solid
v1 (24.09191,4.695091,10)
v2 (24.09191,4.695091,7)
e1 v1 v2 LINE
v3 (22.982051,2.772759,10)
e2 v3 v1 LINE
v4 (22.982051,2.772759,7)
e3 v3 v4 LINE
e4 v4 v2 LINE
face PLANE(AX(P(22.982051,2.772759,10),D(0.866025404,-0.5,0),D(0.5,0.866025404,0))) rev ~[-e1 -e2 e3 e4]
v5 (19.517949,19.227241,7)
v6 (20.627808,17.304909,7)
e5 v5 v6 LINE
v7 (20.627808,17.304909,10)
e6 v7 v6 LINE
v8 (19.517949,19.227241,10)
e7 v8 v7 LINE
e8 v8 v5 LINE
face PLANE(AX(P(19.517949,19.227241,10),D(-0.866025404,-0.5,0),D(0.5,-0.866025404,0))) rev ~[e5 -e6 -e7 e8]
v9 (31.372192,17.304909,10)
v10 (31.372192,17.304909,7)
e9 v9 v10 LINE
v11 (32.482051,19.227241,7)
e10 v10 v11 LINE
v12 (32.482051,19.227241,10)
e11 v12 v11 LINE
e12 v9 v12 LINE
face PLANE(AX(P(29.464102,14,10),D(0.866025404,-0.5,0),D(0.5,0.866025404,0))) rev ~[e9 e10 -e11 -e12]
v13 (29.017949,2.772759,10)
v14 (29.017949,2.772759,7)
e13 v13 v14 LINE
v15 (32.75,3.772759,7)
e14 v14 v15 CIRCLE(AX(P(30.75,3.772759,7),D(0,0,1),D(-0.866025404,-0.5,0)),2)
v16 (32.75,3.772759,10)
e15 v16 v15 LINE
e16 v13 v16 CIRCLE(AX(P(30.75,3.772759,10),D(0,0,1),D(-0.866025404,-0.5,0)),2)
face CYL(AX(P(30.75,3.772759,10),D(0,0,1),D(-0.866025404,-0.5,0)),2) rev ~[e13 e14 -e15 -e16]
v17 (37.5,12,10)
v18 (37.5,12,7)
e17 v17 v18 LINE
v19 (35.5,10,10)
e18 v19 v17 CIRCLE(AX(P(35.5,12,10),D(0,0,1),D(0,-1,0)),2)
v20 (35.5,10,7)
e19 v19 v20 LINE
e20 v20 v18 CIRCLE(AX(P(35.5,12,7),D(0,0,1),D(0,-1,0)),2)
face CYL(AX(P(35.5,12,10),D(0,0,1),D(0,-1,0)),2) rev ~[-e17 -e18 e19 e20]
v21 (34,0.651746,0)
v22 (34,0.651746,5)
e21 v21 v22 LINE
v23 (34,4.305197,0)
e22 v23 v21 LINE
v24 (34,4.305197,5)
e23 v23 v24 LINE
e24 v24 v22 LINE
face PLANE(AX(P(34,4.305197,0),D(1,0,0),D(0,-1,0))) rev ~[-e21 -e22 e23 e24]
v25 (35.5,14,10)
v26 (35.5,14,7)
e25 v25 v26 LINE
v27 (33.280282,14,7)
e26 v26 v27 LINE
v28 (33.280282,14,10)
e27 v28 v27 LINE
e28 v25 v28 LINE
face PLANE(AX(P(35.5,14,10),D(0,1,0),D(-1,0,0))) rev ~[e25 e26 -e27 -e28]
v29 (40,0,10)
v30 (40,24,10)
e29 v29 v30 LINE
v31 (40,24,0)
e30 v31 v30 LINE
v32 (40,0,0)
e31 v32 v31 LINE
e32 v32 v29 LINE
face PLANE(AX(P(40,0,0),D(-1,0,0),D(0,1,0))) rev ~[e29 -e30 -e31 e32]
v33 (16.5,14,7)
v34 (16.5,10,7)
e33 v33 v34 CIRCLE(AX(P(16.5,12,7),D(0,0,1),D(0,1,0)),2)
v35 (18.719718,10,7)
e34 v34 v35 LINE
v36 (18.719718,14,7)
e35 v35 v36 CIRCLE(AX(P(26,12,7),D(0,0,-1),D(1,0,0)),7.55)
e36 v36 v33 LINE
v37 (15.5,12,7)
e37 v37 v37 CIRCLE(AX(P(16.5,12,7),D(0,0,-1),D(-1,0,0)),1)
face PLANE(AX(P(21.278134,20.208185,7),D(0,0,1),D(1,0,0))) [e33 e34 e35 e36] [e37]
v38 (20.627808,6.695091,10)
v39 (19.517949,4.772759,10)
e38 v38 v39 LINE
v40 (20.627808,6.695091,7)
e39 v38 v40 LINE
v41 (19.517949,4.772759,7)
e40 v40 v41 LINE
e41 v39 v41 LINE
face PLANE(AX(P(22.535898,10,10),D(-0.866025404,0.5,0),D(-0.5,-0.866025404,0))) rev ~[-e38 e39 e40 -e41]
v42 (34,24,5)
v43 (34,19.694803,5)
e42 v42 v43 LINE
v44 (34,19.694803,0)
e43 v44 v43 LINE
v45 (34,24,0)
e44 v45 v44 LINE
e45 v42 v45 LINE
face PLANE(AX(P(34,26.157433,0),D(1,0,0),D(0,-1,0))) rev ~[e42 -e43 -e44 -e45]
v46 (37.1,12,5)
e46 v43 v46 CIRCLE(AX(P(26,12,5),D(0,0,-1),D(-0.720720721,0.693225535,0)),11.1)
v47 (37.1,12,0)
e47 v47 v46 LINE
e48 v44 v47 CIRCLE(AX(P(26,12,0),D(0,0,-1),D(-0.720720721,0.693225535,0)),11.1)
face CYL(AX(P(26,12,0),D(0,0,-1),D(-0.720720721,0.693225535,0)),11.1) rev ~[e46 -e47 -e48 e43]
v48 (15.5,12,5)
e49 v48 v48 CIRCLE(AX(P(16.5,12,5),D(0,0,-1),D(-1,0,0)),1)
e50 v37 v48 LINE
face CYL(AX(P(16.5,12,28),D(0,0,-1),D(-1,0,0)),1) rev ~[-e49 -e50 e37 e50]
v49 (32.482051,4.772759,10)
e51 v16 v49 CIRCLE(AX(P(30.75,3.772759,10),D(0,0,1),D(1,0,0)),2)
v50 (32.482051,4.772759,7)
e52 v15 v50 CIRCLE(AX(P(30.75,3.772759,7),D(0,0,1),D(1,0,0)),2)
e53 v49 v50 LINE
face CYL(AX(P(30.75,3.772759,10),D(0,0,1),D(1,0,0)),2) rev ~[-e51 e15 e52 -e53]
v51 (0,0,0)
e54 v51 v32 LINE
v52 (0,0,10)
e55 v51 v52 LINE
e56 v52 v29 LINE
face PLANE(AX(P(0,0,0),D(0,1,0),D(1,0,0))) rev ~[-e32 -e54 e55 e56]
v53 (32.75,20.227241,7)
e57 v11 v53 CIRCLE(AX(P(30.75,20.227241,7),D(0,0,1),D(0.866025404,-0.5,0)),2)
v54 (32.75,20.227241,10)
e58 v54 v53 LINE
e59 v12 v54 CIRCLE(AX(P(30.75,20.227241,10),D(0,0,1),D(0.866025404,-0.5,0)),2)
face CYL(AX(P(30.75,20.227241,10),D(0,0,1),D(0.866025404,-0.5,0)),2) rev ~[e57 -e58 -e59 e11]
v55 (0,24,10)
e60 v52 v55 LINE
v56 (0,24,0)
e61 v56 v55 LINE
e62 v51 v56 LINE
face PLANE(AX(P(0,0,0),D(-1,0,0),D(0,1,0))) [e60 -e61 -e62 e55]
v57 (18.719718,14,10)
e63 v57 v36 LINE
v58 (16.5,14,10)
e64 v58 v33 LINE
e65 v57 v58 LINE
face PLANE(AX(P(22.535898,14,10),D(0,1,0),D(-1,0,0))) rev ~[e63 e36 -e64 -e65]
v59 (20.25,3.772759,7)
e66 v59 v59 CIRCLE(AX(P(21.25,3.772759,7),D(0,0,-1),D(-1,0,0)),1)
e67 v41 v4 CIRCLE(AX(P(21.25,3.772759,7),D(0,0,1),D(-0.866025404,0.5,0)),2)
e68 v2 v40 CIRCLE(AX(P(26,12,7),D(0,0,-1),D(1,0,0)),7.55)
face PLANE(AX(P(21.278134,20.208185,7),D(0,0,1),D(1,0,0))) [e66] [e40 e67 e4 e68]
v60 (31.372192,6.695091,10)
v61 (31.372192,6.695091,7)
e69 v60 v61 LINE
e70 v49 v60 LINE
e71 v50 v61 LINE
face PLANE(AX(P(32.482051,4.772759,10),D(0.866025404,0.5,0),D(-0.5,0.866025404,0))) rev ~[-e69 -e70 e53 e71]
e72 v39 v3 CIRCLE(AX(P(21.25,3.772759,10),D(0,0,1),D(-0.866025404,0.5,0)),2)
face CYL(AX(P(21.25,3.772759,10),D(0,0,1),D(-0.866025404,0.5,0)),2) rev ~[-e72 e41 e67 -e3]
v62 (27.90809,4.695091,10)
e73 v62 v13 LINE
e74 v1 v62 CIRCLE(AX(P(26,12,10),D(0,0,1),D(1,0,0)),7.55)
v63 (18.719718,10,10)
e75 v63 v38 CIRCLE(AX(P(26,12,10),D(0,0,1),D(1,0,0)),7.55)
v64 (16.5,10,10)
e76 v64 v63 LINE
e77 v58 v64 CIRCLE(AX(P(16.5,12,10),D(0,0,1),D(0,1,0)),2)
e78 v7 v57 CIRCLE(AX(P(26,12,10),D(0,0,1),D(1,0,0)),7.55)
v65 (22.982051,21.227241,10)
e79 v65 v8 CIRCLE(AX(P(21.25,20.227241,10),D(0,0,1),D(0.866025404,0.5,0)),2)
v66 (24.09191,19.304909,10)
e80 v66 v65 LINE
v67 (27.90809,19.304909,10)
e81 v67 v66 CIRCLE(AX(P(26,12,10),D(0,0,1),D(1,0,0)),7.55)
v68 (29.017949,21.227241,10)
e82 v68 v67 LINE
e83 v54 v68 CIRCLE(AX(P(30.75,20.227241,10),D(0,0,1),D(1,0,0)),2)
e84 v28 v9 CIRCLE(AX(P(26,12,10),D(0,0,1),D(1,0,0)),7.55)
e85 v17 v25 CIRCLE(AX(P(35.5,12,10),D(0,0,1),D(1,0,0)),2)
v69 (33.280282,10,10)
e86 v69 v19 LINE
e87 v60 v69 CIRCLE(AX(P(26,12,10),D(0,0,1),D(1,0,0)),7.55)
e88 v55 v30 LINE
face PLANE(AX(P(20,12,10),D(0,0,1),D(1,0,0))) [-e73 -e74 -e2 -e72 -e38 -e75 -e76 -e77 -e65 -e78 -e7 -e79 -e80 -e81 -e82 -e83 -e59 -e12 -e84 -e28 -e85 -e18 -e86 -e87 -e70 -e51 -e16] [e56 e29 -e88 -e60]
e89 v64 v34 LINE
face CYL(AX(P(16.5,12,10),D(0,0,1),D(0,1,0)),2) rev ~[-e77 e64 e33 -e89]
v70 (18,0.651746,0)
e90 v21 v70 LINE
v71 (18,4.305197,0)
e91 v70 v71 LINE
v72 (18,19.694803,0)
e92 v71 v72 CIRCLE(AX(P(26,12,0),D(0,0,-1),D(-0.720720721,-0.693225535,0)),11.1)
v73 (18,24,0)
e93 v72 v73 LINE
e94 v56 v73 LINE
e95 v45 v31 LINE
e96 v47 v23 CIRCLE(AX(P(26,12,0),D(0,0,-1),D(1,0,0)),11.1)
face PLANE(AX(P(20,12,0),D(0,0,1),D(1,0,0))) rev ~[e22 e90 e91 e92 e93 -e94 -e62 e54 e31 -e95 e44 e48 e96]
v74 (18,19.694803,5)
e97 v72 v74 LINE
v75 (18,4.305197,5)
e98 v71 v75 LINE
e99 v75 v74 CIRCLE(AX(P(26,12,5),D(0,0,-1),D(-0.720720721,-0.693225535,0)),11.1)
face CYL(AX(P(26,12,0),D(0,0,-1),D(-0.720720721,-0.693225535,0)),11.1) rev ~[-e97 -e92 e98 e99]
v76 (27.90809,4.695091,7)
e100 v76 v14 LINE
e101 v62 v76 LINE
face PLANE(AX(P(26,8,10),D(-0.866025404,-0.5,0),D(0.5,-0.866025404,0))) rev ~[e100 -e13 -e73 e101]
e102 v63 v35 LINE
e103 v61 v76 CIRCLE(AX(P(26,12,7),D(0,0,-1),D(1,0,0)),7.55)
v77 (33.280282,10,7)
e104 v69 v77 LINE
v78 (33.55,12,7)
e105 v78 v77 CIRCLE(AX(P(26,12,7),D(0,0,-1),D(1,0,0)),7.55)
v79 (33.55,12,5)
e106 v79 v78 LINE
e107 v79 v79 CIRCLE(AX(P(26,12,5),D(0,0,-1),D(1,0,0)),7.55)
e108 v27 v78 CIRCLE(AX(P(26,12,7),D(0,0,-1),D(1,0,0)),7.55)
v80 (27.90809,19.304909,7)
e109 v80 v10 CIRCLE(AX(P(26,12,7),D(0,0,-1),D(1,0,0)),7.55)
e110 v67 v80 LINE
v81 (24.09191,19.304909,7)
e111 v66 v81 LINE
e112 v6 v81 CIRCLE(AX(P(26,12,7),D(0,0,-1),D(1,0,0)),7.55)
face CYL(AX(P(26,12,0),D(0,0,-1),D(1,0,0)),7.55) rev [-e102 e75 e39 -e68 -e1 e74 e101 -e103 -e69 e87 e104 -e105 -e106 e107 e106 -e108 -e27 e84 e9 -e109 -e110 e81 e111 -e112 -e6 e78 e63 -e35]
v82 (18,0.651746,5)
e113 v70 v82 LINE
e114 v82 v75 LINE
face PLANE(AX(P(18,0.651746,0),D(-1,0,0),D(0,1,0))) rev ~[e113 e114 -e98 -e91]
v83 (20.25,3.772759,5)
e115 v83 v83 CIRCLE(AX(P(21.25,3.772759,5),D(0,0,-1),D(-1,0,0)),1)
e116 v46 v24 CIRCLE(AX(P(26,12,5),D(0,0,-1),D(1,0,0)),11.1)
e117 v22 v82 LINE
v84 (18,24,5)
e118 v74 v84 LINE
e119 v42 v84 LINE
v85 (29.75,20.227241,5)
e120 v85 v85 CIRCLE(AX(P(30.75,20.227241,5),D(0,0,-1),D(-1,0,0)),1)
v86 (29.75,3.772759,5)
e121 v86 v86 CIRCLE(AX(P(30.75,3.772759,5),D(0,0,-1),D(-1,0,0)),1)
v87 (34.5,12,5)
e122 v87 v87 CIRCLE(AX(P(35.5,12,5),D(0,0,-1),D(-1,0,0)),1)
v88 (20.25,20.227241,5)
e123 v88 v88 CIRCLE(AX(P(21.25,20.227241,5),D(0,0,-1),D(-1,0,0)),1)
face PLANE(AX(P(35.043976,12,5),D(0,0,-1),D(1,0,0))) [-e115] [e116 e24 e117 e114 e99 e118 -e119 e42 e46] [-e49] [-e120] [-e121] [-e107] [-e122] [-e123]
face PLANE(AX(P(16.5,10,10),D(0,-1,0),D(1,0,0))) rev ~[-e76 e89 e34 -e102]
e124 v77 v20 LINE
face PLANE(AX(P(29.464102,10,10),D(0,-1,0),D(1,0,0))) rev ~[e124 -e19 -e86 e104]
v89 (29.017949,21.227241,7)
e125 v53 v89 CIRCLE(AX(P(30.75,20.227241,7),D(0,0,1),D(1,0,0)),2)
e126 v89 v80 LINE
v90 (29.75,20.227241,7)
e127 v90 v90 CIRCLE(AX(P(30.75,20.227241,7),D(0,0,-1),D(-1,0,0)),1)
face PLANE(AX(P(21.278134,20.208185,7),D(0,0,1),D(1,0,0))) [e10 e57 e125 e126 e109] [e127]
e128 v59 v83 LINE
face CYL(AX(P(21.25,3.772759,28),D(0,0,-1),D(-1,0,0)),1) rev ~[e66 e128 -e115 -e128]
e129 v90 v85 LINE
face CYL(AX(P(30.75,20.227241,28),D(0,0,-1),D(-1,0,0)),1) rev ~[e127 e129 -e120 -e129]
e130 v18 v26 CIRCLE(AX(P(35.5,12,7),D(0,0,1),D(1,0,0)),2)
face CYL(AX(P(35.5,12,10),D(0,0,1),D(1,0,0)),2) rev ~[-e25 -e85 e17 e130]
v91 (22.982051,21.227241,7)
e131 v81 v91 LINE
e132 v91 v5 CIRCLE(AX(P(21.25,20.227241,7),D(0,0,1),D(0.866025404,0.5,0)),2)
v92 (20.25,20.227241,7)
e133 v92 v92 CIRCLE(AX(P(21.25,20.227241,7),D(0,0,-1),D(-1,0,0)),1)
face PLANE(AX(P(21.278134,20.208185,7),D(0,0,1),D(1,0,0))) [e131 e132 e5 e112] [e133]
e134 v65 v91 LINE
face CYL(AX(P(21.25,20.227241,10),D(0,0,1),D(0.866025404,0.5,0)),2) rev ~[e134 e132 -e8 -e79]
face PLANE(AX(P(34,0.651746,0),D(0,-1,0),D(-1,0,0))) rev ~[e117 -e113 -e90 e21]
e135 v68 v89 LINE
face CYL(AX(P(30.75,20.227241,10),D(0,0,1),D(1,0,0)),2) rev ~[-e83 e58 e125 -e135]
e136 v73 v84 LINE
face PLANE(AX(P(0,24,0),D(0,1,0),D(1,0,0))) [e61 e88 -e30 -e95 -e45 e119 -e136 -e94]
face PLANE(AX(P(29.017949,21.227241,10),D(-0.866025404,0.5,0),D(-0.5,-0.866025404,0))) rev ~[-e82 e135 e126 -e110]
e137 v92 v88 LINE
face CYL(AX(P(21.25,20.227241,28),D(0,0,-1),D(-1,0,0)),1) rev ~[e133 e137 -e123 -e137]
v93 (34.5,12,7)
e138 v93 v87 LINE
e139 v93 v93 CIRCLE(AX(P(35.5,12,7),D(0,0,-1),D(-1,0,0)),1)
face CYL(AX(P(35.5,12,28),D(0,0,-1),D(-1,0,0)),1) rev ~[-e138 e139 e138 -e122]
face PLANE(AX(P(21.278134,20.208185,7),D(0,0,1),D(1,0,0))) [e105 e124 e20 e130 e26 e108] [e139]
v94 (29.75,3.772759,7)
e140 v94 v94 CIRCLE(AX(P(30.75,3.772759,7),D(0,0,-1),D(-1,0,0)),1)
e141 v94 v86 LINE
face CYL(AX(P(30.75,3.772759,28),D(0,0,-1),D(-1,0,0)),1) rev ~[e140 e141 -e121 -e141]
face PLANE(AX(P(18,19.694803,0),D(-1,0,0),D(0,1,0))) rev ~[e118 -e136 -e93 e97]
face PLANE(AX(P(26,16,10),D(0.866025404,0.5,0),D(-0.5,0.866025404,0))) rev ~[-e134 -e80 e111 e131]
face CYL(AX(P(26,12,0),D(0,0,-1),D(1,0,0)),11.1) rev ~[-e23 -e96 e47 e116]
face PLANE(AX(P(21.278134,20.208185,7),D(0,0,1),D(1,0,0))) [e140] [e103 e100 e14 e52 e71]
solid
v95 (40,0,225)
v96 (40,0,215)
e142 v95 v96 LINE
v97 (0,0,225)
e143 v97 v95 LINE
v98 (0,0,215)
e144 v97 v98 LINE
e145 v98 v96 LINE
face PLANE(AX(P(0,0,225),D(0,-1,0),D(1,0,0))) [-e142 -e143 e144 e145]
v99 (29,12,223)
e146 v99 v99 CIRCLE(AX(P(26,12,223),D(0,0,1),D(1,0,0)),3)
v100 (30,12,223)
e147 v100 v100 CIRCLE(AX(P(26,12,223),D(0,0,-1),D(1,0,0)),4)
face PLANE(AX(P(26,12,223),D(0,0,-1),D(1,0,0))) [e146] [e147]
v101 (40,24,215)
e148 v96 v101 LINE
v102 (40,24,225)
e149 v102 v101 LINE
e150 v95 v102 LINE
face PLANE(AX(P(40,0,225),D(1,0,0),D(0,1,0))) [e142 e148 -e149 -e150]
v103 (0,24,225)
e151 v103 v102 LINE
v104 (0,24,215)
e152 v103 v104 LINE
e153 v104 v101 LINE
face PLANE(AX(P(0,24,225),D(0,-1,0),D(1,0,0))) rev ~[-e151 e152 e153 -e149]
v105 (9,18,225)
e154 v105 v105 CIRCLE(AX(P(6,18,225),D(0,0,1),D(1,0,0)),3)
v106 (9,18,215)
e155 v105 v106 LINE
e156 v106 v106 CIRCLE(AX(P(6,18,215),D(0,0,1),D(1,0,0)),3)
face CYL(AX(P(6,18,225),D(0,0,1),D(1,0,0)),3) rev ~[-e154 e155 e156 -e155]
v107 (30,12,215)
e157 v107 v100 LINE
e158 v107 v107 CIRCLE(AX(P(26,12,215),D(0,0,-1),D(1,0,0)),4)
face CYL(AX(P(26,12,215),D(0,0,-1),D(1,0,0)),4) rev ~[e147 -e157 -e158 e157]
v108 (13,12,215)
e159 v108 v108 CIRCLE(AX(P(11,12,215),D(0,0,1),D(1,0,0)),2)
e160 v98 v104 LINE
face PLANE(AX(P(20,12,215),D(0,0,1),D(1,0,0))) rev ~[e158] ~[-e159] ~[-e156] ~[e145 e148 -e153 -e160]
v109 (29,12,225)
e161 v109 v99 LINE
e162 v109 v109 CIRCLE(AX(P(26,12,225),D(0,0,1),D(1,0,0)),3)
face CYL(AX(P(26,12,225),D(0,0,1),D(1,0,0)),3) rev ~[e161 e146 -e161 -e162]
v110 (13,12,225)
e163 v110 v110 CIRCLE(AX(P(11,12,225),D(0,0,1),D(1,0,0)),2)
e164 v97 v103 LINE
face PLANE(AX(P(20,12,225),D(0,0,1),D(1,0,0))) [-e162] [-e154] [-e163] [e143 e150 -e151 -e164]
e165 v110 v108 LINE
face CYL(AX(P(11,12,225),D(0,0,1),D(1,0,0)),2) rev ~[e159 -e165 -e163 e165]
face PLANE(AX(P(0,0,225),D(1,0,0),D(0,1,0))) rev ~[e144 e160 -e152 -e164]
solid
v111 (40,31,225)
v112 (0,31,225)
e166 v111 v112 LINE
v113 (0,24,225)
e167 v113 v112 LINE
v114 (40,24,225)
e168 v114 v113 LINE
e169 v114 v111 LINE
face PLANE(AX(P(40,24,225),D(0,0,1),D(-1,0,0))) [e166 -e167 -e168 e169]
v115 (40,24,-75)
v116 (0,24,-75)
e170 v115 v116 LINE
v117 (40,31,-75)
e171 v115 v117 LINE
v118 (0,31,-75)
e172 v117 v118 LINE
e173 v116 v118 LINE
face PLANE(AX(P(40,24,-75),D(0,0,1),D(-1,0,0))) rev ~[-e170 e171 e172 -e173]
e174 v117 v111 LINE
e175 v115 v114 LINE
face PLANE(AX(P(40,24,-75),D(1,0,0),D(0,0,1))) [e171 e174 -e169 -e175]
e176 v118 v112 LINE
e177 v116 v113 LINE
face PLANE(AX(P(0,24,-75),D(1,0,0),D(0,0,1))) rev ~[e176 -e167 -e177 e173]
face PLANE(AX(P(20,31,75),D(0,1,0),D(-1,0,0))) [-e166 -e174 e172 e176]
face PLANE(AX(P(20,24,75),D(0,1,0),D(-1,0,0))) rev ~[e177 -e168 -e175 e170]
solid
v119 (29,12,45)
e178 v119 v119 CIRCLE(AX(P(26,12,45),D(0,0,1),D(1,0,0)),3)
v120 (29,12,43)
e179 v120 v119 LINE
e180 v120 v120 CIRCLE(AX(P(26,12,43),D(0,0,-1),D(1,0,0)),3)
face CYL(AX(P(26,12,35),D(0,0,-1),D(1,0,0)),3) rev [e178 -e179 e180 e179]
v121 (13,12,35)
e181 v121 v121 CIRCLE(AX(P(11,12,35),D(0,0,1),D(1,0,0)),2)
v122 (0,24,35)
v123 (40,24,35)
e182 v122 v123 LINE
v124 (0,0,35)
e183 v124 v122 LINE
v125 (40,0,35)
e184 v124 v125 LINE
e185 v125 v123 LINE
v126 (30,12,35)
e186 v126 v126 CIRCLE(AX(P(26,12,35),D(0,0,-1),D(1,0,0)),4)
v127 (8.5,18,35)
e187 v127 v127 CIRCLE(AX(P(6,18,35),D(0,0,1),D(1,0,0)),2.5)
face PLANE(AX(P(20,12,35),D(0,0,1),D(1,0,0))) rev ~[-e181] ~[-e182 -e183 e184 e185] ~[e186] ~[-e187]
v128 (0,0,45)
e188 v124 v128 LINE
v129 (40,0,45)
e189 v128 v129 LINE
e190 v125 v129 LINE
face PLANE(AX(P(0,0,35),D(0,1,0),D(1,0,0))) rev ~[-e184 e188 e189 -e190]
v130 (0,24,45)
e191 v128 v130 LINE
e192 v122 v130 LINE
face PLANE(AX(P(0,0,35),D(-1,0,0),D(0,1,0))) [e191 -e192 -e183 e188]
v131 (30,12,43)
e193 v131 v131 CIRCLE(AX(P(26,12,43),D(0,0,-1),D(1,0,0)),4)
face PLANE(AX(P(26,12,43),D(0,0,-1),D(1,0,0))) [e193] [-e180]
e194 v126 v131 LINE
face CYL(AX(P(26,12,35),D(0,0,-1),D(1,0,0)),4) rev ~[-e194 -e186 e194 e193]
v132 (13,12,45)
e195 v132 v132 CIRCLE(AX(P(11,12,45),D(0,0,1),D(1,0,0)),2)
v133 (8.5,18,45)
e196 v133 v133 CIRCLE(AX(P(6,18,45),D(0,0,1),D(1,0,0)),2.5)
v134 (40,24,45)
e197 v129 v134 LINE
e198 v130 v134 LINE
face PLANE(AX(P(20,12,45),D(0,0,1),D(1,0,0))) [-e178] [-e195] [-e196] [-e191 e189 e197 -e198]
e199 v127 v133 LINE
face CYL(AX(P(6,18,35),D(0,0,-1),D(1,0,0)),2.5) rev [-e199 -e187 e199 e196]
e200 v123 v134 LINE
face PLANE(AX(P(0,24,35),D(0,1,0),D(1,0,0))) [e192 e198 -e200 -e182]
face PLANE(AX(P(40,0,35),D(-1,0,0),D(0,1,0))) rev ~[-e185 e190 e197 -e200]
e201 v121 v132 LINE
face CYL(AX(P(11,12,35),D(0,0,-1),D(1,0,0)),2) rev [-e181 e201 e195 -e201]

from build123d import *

# Parameters (mm, degrees)
F0_W      = 40
F0_H      = 24
F0_R      = 7.55
F1_DEPTH  = 10
F3_D      = 2
F3_DEPTH  = 18
F3_TIP    = 0.600860619
F5_DEPTH  = 3
F7_DEPTH  = 5
F8_W      = 40
F8_H      = 300
F9_DEPTH  = 7
F10_W     = 40
F10_H     = 24
F10_R     = 2
F10_R_2   = 3
F11_DEPTH = 10
F12_R     = 4
F13_DEPTH = 8
F15_W     = 40
F15_H     = 24
F15_R     = 2
F15_R_2   = 2.5
F15_R_3   = 3
F16_DEPTH = 10
F17_R     = 4
F18_DEPTH = 8


with BuildPart() as f1:
    # F0 (on Top) → F1 (new body)
    with BuildSketch(Plane.XY):
        with Locations((20, 12)):
            Rectangle(F0_W, F0_H)
        with Locations((26, 12)):
            Circle(F0_R, mode=Mode.SUBTRACT)
    extrude(amount=F1_DEPTH)

    # F3
    with Locations(Plane.XY.offset(10)):
        with Locations((21.25, 20.227241336), (16.5, 12), (21.25, 3.772758664), (30.75, 3.772758664), (35.5, 12), (30.75, 20.227241336)):
            Hole(F3_D / 2, depth=F3_DEPTH)
            with Locations((0, 0, -(F3_DEPTH + F3_TIP / 2))):  # 118° drill point
                Cone(0, F3_D / 2, F3_TIP, mode=Mode.SUBTRACT)

    # F4 (on face) → F5 (cut)
    with BuildSketch(Plane.XY.offset(10)):
        with BuildLine():
            ThreePointArc((19.5179491924, 19.227241336), (21.7676380902, 18.2953896834), (23.25, 20.227241336))
            ThreePointArc((23.25, 20.227241336), (23.1818516526, 20.7448794262), (22.9820508076, 21.227241336))
            ThreePointArc((22.9820508076, 21.227241336), (20.25, 21.9592921435), (19.5179491924, 19.227241336))
        make_face()
        with BuildLine():
            ThreePointArc((22.9820508076, 21.227241336), (23.1818516526, 20.7448794262), (23.25, 20.227241336))
            ThreePointArc((23.25, 20.227241336), (21.7676380902, 18.2953896834), (19.5179491924, 19.227241336))
            Line((19.5179491924, 19.227241336), (22.5358983849, 14))
            Line((22.5358983849, 14), (24.8452994616, 14))
            Line((24.8452994616, 14), (26, 16))
            Line((26, 16), (22.9820508076, 21.227241336))
        make_face()
        with BuildLine():
            Line((29.0179491924, 21.227241336), (26, 16))
            Line((26, 16), (27.1547005384, 14))
            Line((27.1547005384, 14), (29.4641016151, 14))
            Line((29.4641016151, 14), (32.4820508076, 19.227241336))
            ThreePointArc((32.4820508076, 19.227241336), (29.75, 18.4951905284), (29.0179491924, 21.227241336))
        make_face()
        Polygon((27.1547005384, 14), (26, 16), (24.8452994616, 14), align=None)
        Polygon((24.8452994616, 14), (22.5358983849, 14), (23.6905989232, 12), align=None)
        with BuildLine():
            Line((23.6905989232, 12), (22.5358983849, 14))
            Line((22.5358983849, 14), (16.5, 14))
            ThreePointArc((16.5, 14), (17.9142135624, 13.4142135624), (18.5, 12))
            ThreePointArc((18.5, 12), (17.9142135624, 10.5857864376), (16.5, 10))
            Line((16.5, 10), (22.5358983849, 10))
            Line((22.5358983849, 10), (23.6905989232, 12))
        make_face()
        Polygon((29.4641016151, 14), (27.1547005384, 14), (28.3094010768, 12), align=None)
        with BuildLine():
            ThreePointArc((32.75, 20.227241336), (31.2676380902, 22.1590929885), (29.0179491924, 21.227241336))
            ThreePointArc((29.0179491924, 21.227241336), (29.75, 18.4951905284), (32.4820508076, 19.227241336))
            ThreePointArc((32.4820508076, 19.227241336), (32.6818516526, 19.7096032457), (32.75, 20.227241336))
        make_face()
        Polygon((24.8452994616, 10), (23.6905989232, 12), (22.5358983849, 10), align=None)
        with BuildLine():
            ThreePointArc((18.5, 12), (17.9142135624, 13.4142135624), (16.5, 14))
            ThreePointArc((16.5, 14), (14.5, 12), (16.5, 10))
            ThreePointArc((16.5, 10), (17.9142135624, 10.5857864376), (18.5, 12))
        make_face()
        with BuildLine():
            Line((29.4641016151, 14), (28.3094010768, 12))
            Line((28.3094010768, 12), (29.4641016151, 10))
            Line((29.4641016151, 10), (35.5, 10))
            ThreePointArc((35.5, 10), (33.5, 12), (35.5, 14))
            Line((35.5, 14), (29.4641016151, 14))
        make_face()
        Polygon((29.4641016151, 10), (28.3094010768, 12), (27.1547005384, 10), align=None)
        Polygon((27.1547005384, 10), (24.8452994616, 10), (26, 8), align=None)
        with BuildLine():
            Line((26, 8), (24.8452994616, 10))
            Line((24.8452994616, 10), (22.5358983849, 10))
            Line((22.5358983849, 10), (19.5179491924, 4.772758664))
            ThreePointArc((19.5179491924, 4.772758664), (21.7676380902, 5.7046103166), (23.25, 3.772758664))
            ThreePointArc((23.25, 3.772758664), (23.1818516526, 3.2551205738), (22.9820508076, 2.772758664))
            Line((22.9820508076, 2.772758664), (26, 8))
        make_face()
        with BuildLine():
            Line((32.4820508076, 4.772758664), (29.4641016151, 10))
            Line((29.4641016151, 10), (27.1547005384, 10))
            Line((27.1547005384, 10), (26, 8))
            Line((26, 8), (29.0179491924, 2.772758664))
            ThreePointArc((29.0179491924, 2.772758664), (29.75, 5.5048094716), (32.4820508076, 4.772758664))
        make_face()
        with BuildLine():
            ThreePointArc((37.5, 12), (36.9142135624, 13.4142135624), (35.5, 14))
            ThreePointArc((35.5, 14), (33.5, 12), (35.5, 10))
            ThreePointArc((35.5, 10), (36.9142135624, 10.5857864376), (37.5, 12))
        make_face()
        with BuildLine():
            ThreePointArc((23.25, 3.772758664), (21.7676380902, 5.7046103166), (19.5179491924, 4.772758664))
            ThreePointArc((19.5179491924, 4.772758664), (20.25, 2.0407078565), (22.9820508076, 2.772758664))
            ThreePointArc((22.9820508076, 2.772758664), (23.1818516526, 3.2551205738), (23.25, 3.772758664))
        make_face()
        with BuildLine():
            ThreePointArc((32.75, 3.772758664), (32.6818516526, 4.2903967543), (32.4820508076, 4.772758664))
            ThreePointArc((32.4820508076, 4.772758664), (29.75, 5.5048094716), (29.0179491924, 2.772758664))
            ThreePointArc((29.0179491924, 2.772758664), (31.2676380902, 1.8409070115), (32.75, 3.772758664))
        make_face()
    extrude(amount=-F5_DEPTH, mode=Mode.SUBTRACT)

    # F6 (on face) → F7 (cut)
    with BuildSketch(Plane(origin=(0, 0, 0), x_dir=(1, 0, 0), z_dir=(0, 0, -1))):
        with BuildLine():
            ThreePointArc((34, -19.6948034413), (36.2958729596, -16.1478910304), (37.1, -12))
            ThreePointArc((37.1, -12), (36.2958729596, -7.8521089696), (34, -4.3051965587))
            Line((34, -4.3051965587), (34, -19.6948034413))
        make_face()
        with BuildLine():
            Line((34, -19.6948034413), (34, -4.3051965587))
            ThreePointArc((34, -4.3051965587), (26, -0.9), (18, -4.3051965587))
            Line((18, -4.3051965587), (18, -19.6948034413))
            ThreePointArc((18, -19.6948034413), (26, -23.1), (34, -19.6948034413))
        make_face()
        with BuildLine():
            ThreePointArc((18, -4.3051965587), (26, -0.9), (34, -4.3051965587))
            Line((34, -4.3051965587), (34, -0.6517456127))
            Line((34, -0.6517456127), (18, -0.6517456127))
            Line((18, -0.6517456127), (18, -4.3051965587))
        make_face()
        with BuildLine():
            Line((34, -26.1574328393), (34, -19.6948034413))
            ThreePointArc((34, -19.6948034413), (26, -23.1), (18, -19.6948034413))
            Line((18, -19.6948034413), (18, -26.1574328393))
            Line((18, -26.1574328393), (34, -26.1574328393))
        make_face()
        with BuildLine():
            Line((18, -19.6948034413), (18, -4.3051965587))
            ThreePointArc((18, -4.3051965587), (14.9, -12), (18, -19.6948034413))
        make_face()
    extrude(amount=-F7_DEPTH, mode=Mode.SUBTRACT)


with BuildPart() as f9:
    # F8 (on face) → F9 (new body)
    with BuildSketch(Plane(origin=(0, 24, 0), x_dir=(-1, 0, 0), z_dir=(0, 1, 0))):
        with Locations((-20, 75)):
            Rectangle(F8_W, F8_H)
    extrude(amount=F9_DEPTH)


with BuildPart() as f11:
    # F10 (on face) → F11 (new body)
    with BuildSketch(Plane.XY.offset(225)):
        with Locations((20, 12)):
            Rectangle(F10_W, F10_H)
        with Locations((11, 12)):
            Circle(F10_R, mode=Mode.SUBTRACT)
        with Locations((6, 18)):
            Circle(F10_R_2, mode=Mode.SUBTRACT)
        with Locations((26, 12)):
            Circle(F10_R_2, mode=Mode.SUBTRACT)
    extrude(amount=-F11_DEPTH)

    # F12 (on face) → F13 (cut)
    with BuildSketch(Plane(origin=(0, 0, 215), x_dir=(1, 0, 0), z_dir=(0, 0, -1))):
        with Locations((26, -12)):
            Circle(F12_R)
    extrude(amount=-F13_DEPTH, mode=Mode.SUBTRACT)


with BuildPart() as f16:
    # F15 (on offset) → F16 (new body)
    with BuildSketch(Plane.XY.offset(35)):
        with Locations((20, 12)):
            Rectangle(F15_W, F15_H)
        with Locations((11, 12)):
            Circle(F15_R, mode=Mode.SUBTRACT)
        with Locations((6, 18)):
            Circle(F15_R_2, mode=Mode.SUBTRACT)
        with Locations((26, 12)):
            Circle(F15_R_3, mode=Mode.SUBTRACT)
    extrude(amount=F16_DEPTH)

    # F17 (on face) → F18 (cut)
    with BuildSketch(Plane(origin=(0, 0, 35), x_dir=(1, 0, 0), z_dir=(0, 0, -1))):
        with Locations((26, -12)):
            Circle(F17_R)
    extrude(amount=-F18_DEPTH, mode=Mode.SUBTRACT)


solid = Compound([f1.part, f9.part, f11.part, f16.part])
